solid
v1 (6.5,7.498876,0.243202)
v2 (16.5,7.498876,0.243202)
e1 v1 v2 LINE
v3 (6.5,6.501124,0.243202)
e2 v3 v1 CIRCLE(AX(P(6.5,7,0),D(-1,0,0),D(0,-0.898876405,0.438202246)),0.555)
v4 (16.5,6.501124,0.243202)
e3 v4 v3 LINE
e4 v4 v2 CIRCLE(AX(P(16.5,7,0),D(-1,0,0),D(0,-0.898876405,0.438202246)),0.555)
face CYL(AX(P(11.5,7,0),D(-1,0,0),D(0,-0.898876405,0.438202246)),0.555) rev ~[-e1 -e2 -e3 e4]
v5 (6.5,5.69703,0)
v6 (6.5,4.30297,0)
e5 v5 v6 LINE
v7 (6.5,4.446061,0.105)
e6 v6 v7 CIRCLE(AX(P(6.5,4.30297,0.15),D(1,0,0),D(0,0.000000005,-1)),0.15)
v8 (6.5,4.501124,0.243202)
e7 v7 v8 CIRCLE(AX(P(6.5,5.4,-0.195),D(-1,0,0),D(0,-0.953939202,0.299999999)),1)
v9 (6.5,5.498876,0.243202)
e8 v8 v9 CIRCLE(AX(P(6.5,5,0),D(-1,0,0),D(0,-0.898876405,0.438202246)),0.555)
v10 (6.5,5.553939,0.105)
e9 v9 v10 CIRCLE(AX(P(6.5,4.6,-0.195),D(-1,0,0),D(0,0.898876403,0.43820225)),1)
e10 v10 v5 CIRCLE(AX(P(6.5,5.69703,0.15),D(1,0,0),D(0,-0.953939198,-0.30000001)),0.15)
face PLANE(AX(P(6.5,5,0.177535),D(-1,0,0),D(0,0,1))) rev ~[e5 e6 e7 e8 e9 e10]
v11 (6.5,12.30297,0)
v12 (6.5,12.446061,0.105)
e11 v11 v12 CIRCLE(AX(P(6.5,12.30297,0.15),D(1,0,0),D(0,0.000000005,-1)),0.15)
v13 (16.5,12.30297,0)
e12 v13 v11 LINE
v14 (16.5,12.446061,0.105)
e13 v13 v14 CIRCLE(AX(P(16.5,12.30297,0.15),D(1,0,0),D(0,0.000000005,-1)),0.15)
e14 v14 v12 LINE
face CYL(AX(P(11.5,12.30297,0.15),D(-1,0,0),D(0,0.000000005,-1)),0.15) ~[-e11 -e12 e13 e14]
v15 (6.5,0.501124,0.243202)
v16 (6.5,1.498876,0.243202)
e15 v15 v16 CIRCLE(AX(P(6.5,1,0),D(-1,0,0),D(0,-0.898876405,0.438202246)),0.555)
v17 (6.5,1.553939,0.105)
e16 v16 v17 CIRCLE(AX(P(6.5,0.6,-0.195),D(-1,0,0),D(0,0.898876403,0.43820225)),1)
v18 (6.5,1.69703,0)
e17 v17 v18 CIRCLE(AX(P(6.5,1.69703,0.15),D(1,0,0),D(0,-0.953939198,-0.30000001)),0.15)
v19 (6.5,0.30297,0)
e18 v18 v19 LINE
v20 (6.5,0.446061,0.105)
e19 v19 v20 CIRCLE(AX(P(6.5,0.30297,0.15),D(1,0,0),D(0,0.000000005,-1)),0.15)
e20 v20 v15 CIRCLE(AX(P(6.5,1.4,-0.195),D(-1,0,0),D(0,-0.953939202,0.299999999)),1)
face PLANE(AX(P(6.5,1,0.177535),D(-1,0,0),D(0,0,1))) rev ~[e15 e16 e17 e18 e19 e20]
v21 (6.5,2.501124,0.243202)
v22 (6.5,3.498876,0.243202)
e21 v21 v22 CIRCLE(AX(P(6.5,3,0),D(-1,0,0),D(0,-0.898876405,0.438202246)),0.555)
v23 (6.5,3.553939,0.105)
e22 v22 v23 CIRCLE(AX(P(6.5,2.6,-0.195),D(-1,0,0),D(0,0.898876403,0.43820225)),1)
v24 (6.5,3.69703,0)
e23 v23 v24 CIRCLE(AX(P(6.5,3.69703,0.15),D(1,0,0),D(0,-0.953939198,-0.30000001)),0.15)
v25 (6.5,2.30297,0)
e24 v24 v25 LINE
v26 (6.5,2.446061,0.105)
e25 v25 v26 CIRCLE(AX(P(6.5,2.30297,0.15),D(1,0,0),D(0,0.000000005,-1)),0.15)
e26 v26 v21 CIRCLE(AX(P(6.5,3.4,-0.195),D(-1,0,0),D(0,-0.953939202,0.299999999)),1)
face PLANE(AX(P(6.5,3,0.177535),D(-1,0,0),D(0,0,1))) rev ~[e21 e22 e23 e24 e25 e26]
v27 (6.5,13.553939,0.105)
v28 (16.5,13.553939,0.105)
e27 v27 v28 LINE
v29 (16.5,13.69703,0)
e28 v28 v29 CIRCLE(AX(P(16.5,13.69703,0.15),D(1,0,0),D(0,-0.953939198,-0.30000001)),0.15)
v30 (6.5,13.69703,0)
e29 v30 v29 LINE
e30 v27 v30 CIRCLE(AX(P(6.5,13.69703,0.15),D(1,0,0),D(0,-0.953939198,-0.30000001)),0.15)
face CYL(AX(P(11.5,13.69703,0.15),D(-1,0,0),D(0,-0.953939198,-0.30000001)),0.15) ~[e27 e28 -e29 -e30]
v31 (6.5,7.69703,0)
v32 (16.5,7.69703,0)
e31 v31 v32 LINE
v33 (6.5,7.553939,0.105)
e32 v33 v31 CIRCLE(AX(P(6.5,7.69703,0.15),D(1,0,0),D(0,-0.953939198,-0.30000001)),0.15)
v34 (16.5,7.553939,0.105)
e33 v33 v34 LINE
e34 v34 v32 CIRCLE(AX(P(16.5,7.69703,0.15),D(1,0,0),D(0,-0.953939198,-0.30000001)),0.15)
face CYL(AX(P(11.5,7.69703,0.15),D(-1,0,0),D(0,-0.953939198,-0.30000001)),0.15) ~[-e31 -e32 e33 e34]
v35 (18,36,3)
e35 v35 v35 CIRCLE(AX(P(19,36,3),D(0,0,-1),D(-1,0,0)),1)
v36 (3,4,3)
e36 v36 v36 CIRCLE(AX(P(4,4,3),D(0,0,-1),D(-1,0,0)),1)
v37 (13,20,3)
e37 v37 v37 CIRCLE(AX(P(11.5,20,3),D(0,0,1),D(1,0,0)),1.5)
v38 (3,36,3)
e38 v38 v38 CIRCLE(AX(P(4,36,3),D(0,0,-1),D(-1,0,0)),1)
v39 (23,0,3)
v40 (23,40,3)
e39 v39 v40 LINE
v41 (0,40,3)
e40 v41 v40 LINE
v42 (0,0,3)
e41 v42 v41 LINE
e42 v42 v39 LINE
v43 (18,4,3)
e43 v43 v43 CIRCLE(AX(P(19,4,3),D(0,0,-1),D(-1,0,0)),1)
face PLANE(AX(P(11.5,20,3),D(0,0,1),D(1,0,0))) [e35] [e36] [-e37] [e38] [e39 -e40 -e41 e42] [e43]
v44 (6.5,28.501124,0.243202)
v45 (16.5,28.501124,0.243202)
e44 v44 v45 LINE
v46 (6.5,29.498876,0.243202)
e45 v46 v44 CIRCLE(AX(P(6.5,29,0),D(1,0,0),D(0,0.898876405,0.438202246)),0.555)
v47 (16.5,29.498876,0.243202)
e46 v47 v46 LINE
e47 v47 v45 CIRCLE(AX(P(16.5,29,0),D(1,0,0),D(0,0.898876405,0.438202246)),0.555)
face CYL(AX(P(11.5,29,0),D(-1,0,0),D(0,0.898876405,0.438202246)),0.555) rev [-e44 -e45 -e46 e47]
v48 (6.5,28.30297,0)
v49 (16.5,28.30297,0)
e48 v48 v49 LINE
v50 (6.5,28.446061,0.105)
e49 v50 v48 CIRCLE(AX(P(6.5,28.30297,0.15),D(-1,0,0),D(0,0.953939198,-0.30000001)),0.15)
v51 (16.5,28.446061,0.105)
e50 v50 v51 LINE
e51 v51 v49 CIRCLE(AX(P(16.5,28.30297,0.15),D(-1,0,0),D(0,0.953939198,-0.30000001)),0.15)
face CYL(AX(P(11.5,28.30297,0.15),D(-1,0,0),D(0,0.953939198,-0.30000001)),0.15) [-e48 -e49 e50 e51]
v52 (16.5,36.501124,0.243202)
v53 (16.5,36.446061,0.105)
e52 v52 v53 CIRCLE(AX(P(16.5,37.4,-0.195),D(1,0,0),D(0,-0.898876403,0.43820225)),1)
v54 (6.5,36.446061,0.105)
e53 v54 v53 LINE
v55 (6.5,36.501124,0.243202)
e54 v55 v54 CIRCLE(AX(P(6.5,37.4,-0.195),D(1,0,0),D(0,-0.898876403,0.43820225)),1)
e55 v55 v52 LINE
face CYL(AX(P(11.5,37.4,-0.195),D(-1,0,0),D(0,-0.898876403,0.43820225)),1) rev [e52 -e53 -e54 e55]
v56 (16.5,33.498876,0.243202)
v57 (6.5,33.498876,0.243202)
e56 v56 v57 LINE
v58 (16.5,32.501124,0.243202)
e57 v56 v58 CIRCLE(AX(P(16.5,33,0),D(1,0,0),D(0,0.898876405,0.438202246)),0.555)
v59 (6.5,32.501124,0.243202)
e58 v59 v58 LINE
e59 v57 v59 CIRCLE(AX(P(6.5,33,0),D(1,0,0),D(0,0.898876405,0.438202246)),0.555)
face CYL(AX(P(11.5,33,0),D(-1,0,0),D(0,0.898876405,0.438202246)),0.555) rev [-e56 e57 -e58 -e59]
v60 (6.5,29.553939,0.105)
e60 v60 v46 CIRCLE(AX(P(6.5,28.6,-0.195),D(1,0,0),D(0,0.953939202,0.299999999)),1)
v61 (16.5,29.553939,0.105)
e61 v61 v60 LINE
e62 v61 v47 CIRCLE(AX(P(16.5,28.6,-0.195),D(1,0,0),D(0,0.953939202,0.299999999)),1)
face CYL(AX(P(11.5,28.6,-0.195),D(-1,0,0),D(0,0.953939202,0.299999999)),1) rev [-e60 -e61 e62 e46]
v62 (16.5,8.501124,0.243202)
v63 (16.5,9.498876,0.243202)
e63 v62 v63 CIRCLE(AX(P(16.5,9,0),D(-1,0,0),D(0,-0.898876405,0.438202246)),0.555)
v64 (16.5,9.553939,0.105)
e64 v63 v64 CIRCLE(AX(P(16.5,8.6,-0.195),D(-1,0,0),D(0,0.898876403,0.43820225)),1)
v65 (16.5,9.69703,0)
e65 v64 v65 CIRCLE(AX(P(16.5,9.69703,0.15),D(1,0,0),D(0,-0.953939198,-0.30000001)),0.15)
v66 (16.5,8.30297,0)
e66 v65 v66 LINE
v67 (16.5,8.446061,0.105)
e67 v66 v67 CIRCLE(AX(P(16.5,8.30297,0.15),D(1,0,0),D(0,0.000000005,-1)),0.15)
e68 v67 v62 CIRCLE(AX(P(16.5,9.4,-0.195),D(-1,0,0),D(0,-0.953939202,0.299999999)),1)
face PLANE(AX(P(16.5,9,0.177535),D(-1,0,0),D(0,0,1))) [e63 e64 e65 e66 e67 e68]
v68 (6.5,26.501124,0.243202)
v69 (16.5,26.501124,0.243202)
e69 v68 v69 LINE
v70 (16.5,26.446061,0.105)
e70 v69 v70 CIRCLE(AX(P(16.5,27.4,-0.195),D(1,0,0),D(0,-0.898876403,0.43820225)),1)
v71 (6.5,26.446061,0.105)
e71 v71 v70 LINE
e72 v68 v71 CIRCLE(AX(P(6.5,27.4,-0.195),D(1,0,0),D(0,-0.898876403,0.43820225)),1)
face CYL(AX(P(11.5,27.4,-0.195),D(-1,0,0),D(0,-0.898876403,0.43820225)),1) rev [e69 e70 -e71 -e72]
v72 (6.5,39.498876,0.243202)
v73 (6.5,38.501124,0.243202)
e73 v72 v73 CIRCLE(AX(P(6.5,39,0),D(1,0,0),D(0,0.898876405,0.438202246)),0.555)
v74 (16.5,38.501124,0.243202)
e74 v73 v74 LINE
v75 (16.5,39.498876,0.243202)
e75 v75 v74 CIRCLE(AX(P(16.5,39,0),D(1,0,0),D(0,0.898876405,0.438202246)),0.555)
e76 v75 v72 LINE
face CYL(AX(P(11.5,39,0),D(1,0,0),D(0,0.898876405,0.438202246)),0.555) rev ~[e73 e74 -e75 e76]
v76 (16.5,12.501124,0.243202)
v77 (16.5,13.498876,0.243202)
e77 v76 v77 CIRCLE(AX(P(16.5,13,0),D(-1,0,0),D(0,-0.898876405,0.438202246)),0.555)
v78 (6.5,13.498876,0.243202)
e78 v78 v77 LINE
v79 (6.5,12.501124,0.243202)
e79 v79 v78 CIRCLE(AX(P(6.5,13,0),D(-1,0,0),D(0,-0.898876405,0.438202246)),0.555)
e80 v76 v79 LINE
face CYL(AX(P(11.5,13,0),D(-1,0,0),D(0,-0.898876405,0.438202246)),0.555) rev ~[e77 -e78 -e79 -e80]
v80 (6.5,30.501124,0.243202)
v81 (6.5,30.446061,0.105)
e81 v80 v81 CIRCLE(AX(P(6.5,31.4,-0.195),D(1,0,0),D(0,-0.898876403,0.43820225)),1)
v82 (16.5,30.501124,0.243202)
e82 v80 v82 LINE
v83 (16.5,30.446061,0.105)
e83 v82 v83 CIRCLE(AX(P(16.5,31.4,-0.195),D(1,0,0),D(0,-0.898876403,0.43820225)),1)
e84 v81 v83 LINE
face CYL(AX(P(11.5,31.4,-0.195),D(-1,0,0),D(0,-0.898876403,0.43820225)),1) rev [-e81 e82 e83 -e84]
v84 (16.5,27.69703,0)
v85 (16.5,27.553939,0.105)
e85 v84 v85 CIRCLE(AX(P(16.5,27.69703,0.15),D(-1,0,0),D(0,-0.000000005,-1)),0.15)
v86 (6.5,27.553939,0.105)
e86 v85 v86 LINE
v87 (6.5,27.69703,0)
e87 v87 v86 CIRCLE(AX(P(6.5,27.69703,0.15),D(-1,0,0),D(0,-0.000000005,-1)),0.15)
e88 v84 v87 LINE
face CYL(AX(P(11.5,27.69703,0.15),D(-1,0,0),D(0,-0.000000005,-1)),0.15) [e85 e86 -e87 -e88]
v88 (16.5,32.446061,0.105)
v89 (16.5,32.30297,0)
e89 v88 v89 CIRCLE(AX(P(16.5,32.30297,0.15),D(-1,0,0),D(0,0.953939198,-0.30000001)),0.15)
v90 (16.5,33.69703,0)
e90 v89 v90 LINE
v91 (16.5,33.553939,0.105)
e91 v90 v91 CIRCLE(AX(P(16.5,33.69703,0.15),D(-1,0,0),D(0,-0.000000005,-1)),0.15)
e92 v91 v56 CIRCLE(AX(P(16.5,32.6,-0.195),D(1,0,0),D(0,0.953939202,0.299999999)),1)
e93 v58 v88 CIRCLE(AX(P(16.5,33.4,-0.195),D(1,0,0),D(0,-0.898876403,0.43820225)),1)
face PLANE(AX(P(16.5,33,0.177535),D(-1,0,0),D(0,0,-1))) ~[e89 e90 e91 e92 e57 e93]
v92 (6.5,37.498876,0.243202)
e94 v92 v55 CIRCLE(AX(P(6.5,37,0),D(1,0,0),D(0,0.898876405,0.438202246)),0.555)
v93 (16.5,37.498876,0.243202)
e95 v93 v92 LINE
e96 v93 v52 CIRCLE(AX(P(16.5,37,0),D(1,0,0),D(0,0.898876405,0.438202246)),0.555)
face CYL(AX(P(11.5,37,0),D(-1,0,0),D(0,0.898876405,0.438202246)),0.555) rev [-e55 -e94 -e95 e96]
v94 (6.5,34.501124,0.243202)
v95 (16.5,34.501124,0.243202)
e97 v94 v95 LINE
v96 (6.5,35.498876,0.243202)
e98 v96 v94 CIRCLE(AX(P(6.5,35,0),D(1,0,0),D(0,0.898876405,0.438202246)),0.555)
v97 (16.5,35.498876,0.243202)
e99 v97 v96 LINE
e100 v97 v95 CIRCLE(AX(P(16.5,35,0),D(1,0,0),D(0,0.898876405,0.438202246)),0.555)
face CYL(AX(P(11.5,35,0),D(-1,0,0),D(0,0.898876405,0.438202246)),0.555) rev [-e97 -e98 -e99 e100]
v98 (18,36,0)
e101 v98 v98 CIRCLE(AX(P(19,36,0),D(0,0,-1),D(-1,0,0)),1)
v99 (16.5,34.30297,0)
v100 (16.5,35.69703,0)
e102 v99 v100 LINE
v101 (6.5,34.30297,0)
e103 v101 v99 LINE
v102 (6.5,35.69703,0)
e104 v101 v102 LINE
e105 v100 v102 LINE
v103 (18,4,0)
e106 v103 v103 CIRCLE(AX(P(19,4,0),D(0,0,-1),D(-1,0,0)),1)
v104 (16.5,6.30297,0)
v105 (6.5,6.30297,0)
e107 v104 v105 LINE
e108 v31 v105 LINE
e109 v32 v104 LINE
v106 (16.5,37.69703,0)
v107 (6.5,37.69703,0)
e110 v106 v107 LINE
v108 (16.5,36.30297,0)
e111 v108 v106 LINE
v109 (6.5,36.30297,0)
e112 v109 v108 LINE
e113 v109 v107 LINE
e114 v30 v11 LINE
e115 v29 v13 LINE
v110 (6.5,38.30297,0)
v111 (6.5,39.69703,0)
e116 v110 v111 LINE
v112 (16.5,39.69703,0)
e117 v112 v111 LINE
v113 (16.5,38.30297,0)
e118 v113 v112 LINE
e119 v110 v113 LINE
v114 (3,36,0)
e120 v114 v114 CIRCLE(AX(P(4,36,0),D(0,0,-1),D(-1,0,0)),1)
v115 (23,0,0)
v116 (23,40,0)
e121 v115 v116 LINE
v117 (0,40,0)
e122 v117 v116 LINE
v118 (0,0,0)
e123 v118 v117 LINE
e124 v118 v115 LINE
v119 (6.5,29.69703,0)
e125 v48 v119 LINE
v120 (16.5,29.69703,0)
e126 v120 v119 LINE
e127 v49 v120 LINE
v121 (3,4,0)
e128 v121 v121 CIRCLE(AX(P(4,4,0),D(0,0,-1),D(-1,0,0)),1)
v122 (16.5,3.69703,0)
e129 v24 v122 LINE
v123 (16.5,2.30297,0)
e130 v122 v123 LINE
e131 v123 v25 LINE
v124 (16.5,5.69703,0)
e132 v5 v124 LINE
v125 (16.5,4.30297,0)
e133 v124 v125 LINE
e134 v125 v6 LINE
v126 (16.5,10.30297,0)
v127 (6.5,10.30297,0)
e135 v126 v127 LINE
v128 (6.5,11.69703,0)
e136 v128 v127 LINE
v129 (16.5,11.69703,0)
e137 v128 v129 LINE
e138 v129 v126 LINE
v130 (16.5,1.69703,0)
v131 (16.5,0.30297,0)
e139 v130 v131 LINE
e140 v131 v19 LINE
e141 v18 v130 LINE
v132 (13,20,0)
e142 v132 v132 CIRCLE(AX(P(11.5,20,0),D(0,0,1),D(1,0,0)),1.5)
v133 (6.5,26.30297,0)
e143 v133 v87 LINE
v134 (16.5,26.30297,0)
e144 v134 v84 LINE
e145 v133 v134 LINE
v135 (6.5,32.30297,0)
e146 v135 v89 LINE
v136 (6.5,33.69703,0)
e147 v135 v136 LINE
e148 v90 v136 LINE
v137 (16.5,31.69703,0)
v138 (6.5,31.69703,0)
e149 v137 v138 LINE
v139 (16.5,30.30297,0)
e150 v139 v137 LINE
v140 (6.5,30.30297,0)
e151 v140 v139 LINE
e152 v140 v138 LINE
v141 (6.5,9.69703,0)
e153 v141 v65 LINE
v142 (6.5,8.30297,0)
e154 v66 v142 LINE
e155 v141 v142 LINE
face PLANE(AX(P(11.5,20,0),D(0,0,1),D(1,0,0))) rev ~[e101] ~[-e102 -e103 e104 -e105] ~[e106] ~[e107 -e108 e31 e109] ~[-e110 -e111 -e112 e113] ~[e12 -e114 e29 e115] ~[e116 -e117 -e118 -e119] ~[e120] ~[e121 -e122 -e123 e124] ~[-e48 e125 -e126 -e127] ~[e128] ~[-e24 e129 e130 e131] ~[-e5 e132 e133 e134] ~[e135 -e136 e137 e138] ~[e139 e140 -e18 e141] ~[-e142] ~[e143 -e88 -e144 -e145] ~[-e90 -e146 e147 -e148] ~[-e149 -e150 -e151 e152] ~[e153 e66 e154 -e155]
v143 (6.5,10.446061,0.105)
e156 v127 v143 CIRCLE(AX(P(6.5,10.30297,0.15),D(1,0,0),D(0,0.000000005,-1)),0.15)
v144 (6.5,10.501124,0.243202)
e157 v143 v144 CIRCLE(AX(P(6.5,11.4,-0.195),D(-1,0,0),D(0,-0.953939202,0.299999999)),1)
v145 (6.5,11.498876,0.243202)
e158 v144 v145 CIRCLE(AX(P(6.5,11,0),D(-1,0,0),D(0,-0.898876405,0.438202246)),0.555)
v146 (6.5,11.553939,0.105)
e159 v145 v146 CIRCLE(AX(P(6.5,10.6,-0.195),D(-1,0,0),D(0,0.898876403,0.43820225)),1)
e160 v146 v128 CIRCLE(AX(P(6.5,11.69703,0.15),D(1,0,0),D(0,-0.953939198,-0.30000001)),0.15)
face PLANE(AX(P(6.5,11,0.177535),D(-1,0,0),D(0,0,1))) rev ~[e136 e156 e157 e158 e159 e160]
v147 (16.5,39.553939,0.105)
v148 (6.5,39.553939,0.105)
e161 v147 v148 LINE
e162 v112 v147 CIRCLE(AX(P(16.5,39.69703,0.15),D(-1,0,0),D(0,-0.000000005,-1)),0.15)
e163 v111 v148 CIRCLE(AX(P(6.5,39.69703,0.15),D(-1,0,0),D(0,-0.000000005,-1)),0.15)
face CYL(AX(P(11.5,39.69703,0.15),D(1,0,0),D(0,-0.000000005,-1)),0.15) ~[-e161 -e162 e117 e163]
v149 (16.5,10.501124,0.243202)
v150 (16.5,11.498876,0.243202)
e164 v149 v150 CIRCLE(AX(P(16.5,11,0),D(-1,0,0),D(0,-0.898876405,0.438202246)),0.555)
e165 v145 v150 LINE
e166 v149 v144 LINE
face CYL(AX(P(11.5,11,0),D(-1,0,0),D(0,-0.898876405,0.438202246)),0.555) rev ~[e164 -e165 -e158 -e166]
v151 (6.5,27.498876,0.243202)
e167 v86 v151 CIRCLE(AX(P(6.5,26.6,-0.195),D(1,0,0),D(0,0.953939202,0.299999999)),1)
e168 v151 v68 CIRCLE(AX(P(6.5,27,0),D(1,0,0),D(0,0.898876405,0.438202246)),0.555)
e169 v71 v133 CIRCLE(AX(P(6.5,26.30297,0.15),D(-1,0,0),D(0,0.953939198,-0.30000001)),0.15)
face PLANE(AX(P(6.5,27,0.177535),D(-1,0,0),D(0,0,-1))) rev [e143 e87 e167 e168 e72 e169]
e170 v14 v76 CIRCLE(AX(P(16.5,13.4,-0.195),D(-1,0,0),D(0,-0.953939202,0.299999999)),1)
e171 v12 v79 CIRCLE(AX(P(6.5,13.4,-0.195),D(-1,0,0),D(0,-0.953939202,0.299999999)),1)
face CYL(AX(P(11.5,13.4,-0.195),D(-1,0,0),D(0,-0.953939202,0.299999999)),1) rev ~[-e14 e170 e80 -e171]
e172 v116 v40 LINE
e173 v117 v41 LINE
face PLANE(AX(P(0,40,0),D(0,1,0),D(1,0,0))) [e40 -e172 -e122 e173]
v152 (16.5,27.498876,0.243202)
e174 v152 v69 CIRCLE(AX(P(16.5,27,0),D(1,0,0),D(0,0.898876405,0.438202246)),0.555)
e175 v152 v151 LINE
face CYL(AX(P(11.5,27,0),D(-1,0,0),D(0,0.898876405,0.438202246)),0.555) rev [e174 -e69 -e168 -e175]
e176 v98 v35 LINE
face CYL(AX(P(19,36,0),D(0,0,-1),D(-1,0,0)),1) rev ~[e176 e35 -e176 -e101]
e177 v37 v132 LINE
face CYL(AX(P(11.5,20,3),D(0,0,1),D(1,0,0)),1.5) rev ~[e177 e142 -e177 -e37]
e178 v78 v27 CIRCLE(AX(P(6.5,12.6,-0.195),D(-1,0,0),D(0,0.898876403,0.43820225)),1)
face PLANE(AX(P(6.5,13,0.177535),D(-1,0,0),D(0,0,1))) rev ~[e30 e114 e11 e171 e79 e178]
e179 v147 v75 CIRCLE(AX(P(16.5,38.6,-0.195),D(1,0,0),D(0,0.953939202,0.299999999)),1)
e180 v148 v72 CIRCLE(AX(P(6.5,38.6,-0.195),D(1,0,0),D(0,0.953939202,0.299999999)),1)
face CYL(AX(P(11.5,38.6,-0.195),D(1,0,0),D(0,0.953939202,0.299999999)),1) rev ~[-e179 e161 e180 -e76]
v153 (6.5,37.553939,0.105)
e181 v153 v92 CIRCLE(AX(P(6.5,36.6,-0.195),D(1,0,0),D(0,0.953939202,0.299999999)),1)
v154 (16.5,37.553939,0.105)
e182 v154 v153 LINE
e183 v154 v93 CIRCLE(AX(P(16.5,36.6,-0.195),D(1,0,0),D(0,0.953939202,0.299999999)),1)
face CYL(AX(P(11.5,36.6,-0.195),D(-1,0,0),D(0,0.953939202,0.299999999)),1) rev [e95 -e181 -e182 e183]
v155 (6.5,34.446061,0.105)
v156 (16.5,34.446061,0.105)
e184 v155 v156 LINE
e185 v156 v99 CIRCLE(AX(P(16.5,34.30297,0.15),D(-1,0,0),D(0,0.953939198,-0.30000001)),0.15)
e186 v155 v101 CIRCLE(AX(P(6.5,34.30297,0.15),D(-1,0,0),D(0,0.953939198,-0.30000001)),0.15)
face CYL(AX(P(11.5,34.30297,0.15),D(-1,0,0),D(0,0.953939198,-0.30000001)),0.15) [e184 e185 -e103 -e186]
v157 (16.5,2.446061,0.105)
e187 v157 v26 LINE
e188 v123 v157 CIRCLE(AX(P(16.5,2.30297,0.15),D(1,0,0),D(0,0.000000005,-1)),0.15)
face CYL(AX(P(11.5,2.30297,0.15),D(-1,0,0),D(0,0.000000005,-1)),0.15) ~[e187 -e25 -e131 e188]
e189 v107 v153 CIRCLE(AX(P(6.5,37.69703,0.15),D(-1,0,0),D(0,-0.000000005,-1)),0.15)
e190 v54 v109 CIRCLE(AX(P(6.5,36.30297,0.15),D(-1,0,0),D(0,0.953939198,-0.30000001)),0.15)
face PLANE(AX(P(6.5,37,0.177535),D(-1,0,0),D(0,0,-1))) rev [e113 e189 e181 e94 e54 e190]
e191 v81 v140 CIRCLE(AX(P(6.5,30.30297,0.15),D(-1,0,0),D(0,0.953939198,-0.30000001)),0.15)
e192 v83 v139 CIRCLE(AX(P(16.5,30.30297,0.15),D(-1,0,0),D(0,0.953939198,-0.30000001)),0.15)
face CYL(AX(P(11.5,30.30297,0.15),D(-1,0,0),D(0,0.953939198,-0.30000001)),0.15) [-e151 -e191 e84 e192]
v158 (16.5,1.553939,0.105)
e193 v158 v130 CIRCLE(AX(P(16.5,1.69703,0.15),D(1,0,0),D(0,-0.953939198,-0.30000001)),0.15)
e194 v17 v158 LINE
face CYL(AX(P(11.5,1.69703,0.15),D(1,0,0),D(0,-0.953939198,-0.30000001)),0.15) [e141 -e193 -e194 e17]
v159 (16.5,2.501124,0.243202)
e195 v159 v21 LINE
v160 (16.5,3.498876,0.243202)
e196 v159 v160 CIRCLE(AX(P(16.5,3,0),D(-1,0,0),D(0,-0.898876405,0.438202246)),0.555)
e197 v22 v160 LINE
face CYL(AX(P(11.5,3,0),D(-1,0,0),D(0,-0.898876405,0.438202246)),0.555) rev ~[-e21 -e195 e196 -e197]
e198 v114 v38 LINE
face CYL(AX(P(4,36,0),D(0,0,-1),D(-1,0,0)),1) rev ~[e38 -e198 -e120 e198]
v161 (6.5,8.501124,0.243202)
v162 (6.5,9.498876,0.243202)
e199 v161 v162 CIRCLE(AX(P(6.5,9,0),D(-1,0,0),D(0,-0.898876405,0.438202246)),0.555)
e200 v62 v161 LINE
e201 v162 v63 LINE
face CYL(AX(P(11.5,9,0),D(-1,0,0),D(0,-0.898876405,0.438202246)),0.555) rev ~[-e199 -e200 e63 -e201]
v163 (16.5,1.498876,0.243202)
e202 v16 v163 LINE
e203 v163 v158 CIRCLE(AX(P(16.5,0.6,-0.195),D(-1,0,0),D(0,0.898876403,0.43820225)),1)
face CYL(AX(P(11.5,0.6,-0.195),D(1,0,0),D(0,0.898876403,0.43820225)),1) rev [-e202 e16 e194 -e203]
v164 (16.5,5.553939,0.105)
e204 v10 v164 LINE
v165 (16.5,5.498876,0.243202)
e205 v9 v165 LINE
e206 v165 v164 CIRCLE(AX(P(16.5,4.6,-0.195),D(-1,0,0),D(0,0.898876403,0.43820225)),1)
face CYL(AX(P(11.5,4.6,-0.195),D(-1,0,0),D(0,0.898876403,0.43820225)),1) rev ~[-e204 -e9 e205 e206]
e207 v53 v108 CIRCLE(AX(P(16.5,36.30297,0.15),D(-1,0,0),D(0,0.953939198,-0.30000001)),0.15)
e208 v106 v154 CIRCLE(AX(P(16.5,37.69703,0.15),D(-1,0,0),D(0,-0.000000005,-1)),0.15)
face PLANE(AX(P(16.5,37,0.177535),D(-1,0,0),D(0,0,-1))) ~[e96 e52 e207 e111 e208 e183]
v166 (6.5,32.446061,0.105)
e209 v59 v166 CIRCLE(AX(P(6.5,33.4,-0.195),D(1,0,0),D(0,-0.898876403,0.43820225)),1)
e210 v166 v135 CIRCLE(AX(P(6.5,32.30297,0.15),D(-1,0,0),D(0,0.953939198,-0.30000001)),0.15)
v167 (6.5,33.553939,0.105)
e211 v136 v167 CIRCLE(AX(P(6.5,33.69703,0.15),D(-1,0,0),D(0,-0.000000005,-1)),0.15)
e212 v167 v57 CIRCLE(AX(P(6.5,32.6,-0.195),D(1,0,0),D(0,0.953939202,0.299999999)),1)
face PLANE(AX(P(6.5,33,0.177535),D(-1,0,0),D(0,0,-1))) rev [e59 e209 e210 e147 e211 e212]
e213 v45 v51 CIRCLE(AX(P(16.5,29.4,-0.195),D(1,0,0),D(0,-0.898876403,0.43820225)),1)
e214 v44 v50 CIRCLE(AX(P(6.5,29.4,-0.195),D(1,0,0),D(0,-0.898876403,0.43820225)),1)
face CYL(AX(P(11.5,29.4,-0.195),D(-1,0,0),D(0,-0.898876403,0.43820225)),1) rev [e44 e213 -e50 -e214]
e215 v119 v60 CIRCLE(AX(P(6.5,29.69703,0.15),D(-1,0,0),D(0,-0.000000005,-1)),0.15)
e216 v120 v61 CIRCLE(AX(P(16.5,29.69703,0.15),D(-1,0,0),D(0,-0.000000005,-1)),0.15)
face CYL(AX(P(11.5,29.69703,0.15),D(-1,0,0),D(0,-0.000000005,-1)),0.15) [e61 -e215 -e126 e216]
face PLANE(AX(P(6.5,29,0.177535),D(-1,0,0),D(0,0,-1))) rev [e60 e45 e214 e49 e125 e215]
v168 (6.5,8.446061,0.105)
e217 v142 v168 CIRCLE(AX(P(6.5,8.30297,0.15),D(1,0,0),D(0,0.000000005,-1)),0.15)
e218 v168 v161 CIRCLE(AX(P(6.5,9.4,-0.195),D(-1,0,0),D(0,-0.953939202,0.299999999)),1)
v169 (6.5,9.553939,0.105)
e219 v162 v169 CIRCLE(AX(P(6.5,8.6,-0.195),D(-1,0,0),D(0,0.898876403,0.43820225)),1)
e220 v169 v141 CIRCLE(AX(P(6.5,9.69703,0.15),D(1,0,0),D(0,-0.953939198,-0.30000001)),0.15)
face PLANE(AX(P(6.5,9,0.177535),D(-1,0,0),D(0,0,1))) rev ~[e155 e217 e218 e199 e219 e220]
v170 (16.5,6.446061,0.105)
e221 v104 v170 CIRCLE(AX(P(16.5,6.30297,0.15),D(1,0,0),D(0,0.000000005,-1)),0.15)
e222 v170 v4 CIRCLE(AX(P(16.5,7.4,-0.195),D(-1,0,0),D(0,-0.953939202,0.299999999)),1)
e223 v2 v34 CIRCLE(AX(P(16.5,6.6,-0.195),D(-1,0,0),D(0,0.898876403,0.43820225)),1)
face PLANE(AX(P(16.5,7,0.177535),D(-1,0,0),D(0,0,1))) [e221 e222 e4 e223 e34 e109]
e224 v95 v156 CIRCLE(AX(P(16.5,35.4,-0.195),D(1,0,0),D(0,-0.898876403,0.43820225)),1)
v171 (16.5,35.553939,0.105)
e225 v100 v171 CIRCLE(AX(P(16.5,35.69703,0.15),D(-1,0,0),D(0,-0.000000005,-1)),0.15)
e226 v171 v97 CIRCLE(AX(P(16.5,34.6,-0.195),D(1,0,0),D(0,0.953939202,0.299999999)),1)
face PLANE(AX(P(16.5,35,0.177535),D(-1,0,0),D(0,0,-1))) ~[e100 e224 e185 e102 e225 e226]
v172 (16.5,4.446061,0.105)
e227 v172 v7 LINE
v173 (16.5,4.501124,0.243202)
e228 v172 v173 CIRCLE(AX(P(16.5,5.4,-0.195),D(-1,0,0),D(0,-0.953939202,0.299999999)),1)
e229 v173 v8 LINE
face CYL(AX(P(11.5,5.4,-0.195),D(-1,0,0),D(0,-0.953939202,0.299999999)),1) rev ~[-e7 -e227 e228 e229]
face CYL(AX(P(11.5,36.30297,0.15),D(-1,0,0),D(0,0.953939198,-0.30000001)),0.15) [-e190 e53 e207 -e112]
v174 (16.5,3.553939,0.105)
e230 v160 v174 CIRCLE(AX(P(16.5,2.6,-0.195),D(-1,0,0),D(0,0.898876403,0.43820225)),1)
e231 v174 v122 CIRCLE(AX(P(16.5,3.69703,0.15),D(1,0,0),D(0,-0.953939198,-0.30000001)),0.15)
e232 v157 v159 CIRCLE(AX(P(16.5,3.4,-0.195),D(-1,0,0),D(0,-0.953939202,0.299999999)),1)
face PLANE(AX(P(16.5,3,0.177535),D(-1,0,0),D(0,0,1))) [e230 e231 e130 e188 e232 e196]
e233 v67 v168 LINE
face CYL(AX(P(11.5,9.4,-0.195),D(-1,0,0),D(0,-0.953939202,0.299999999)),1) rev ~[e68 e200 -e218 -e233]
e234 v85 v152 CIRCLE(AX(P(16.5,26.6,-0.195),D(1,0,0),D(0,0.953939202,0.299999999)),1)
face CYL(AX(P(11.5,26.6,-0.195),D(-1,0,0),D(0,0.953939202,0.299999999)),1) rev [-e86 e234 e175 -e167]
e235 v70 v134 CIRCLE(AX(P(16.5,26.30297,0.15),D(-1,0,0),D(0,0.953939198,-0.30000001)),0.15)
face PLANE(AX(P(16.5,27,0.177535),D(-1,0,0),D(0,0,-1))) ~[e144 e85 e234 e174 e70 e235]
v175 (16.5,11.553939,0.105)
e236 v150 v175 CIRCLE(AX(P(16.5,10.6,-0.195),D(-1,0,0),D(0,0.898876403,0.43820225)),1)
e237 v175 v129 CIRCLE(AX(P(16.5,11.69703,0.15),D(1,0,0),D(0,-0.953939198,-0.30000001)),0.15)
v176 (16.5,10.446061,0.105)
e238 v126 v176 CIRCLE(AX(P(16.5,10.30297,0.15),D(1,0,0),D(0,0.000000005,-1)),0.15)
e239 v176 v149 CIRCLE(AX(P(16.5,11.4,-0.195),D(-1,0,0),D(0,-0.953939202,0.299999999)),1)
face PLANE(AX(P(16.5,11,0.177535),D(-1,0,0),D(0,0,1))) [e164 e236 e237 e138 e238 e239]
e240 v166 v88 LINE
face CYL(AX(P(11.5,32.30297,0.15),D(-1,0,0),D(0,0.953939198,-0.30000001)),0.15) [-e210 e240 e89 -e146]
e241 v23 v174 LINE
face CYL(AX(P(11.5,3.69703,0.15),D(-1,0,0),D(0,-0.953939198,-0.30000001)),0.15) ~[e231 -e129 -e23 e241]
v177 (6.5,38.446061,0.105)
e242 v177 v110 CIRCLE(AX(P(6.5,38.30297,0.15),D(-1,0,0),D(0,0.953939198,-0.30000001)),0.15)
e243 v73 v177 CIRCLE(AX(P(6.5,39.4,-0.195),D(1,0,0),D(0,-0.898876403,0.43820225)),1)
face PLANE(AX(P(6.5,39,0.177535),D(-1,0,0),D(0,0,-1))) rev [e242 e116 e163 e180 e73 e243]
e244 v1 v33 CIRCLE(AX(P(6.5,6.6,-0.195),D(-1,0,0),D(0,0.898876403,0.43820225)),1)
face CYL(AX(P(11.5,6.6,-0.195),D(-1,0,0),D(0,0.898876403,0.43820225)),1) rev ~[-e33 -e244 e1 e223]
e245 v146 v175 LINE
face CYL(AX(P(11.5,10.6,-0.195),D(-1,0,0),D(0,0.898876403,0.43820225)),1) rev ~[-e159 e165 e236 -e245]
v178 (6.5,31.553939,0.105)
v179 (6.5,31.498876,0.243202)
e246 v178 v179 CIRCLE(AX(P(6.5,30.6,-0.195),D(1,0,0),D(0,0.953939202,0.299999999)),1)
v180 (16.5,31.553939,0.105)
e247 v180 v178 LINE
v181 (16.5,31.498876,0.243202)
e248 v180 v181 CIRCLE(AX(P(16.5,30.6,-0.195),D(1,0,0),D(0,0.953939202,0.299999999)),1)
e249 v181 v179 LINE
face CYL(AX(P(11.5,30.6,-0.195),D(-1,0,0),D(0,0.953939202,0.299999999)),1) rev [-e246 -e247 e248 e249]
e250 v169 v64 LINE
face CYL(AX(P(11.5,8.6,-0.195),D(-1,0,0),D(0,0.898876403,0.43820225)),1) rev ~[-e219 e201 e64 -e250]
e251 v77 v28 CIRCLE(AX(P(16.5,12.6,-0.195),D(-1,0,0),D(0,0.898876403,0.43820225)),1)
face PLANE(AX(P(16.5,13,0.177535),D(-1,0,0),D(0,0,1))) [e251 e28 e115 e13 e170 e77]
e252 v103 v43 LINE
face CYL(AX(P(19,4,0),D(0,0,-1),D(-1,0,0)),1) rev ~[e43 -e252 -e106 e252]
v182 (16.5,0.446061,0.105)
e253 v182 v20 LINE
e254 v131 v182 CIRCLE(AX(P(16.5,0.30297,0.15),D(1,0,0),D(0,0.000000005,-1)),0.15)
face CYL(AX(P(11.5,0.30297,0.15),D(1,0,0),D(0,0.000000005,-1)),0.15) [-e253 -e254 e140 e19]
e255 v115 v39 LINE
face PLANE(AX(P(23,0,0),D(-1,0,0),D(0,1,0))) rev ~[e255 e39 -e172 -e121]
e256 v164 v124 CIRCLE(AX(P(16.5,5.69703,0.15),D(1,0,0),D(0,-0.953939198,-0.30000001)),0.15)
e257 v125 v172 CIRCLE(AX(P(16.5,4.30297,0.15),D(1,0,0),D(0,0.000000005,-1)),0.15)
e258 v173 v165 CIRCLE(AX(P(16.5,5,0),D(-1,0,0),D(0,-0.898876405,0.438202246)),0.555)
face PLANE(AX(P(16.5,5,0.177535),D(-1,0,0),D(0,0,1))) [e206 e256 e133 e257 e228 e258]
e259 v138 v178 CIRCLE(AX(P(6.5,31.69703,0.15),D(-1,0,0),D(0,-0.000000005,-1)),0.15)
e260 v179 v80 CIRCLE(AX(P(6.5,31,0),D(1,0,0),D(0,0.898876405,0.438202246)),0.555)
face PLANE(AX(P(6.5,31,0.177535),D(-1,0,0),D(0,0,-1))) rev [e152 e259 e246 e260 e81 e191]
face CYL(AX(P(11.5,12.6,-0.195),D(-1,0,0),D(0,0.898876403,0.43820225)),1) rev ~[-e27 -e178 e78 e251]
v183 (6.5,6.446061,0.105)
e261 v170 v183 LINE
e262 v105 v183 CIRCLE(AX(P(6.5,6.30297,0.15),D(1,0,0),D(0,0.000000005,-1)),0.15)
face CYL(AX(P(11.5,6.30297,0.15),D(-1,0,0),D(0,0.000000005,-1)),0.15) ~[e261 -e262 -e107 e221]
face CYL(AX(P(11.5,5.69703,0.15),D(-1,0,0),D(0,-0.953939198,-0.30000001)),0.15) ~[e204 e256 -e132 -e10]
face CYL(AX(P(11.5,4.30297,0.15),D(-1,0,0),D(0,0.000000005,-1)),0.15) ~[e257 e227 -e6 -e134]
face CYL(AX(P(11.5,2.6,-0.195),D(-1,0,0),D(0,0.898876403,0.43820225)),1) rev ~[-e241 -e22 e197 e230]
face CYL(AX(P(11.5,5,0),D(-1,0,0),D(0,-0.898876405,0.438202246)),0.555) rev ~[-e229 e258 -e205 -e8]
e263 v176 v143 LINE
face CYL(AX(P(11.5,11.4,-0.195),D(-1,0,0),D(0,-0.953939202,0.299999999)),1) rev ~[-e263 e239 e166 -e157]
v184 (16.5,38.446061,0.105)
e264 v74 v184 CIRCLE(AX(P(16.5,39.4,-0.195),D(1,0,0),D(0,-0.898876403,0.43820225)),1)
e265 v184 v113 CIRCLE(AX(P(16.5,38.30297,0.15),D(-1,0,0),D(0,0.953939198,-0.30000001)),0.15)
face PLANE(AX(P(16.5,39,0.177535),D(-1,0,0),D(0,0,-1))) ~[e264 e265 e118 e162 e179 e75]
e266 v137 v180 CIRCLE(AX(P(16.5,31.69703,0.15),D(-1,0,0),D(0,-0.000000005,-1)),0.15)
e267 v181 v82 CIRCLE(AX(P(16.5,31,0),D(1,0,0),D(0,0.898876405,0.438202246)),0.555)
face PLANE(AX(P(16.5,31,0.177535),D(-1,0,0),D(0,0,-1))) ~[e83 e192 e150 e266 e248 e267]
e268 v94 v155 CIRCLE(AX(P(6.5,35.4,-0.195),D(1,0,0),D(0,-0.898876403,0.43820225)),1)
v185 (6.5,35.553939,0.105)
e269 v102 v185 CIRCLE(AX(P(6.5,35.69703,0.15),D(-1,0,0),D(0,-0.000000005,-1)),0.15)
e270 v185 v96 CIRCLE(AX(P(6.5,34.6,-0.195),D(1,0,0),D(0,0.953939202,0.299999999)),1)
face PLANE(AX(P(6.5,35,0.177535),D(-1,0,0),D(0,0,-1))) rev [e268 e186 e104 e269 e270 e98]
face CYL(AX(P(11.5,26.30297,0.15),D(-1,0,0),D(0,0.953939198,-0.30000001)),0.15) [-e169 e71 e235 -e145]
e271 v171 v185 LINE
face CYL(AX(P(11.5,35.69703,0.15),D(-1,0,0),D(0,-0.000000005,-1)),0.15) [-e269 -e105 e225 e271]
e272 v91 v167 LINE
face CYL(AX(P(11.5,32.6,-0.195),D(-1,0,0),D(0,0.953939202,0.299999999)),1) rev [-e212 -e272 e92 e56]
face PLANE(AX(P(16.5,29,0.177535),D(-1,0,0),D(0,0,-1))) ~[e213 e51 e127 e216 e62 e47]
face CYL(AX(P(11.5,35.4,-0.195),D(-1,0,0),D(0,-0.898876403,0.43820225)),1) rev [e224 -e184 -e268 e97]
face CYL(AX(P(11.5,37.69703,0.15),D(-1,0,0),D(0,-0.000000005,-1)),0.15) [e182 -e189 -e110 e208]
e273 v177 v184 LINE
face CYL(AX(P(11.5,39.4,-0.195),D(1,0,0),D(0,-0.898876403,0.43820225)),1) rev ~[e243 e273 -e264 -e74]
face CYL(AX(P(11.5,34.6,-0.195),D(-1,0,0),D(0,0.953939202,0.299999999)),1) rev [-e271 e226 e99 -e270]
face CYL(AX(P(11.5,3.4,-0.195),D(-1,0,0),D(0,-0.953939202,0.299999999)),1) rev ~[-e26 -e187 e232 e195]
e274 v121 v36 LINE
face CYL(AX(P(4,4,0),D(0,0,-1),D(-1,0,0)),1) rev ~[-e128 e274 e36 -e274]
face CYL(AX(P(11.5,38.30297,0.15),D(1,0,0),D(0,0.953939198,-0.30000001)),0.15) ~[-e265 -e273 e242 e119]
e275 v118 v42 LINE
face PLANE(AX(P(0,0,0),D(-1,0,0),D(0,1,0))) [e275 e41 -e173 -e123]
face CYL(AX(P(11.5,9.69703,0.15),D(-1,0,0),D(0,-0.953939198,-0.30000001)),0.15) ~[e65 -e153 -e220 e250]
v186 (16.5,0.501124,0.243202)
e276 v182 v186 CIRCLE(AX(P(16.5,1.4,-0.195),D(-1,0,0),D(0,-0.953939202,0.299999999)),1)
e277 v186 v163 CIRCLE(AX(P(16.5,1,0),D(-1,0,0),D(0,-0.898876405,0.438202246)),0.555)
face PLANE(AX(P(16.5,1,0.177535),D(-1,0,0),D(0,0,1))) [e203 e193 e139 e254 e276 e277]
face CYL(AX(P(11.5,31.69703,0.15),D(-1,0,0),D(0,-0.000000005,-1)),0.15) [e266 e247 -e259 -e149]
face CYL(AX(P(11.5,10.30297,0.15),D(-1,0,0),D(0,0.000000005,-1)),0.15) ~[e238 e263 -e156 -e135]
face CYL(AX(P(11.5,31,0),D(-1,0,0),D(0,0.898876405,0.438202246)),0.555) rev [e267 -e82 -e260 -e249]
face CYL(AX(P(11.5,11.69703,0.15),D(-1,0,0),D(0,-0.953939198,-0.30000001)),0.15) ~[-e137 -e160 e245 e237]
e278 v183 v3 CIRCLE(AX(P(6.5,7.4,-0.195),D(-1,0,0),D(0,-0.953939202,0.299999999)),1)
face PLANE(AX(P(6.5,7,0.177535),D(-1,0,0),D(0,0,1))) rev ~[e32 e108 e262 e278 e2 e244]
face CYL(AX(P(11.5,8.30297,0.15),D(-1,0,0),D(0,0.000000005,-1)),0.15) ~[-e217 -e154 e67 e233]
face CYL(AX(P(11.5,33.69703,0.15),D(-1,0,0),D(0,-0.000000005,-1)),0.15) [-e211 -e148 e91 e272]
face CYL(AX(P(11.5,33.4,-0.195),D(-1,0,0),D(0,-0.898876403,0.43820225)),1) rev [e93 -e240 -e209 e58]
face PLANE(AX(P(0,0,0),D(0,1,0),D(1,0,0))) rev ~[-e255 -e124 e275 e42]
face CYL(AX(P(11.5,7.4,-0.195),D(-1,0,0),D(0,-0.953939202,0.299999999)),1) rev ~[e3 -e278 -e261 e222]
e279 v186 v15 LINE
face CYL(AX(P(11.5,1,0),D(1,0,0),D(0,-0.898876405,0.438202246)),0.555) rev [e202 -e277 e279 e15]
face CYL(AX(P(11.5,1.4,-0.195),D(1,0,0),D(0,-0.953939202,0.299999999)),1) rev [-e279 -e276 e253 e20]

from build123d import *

# Parameters (mm, degrees)
SKETCH1_W           = 23
SKETCH1_H           = 40
BOSS_EXTRUDE1_DEPTH = 3
SKETCH2_R           = 1.5
CUT_EXTRUDE1_DEPTH  = 4
CUT_EXTRUDE4_DEPTH  = 5
SKETCH4_R           = 1
CUT_EXTRUDE5_DEPTH  = 4


with BuildPart() as part:
    # Sketch1 → Boss-Extrude1 (new body)
    with BuildSketch(Plane.XY):
        with Locations((11.5, 20)):
            Rectangle(SKETCH1_W, SKETCH1_H)
    extrude(amount=BOSS_EXTRUDE1_DEPTH)

    # Sketch2 → Cut-Extrude1 (cut, through all)
    with BuildSketch(Plane.XY.offset(3)):
        with Locations((11.5, 20)):
            Circle(SKETCH2_R)
    extrude(amount=-CUT_EXTRUDE1_DEPTH, mode=Mode.SUBTRACT)

    # Sketch3 → Cut-Extrude4 (cut, symmetric)
    with BuildSketch(Plane(origin=(11.5, 0, 0), x_dir=(0, 0, -1), z_dir=(1, 0, 0))):
        with BuildLine():
            Line((0, 13.697030082), (0, 12.302969918))
            ThreePointArc((0, 12.302969918), (-0.029066134, 12.391711115), (-0.105, 12.446060799))
            ThreePointArc((-0.105, 12.446060799), (-0.175126488, 12.471018632), (-0.243202247, 12.501123596))
            ThreePointArc((-0.243202247, 12.501123596), (-0.555, 13), (-0.243202247, 13.498876404))
            ThreePointArc((-0.243202247, 13.498876404), (-0.175126488, 13.528981368), (-0.105, 13.553939201))
            ThreePointArc((-0.105, 13.553939201), (-0.029066134, 13.608288885), (0, 13.697030082))
        make_face()
        with BuildLine():
            Line((0, 11.697030082), (0, 10.302969918))
            ThreePointArc((0, 10.302969918), (-0.029066134, 10.391711115), (-0.105, 10.446060799))
            ThreePointArc((-0.105, 10.446060799), (-0.175126488, 10.471018632), (-0.243202247, 10.501123596))
            ThreePointArc((-0.243202247, 10.501123596), (-0.555, 11), (-0.243202247, 11.498876404))
            ThreePointArc((-0.243202247, 11.498876404), (-0.175126488, 11.528981368), (-0.105, 11.553939201))
            ThreePointArc((-0.105, 11.553939201), (-0.029066134, 11.608288885), (0, 11.697030082))
        make_face()
        with BuildLine():
            Line((0, 9.697030082), (0, 8.302969918))
            ThreePointArc((0, 8.302969918), (-0.029066134, 8.391711115), (-0.105, 8.446060799))
            ThreePointArc((-0.105, 8.446060799), (-0.175126488, 8.471018632), (-0.243202247, 8.501123596))
            ThreePointArc((-0.243202247, 8.501123596), (-0.555, 9), (-0.243202247, 9.498876404))
            ThreePointArc((-0.243202247, 9.498876404), (-0.175126488, 9.528981368), (-0.105, 9.553939201))
            ThreePointArc((-0.105, 9.553939201), (-0.029066134, 9.608288885), (0, 9.697030082))
        make_face()
        with BuildLine():
            Line((0, 7.697030082), (0, 6.302969918))
            ThreePointArc((0, 6.302969918), (-0.029066134, 6.391711115), (-0.105, 6.446060799))
            ThreePointArc((-0.105, 6.446060799), (-0.175126488, 6.471018632), (-0.243202247, 6.501123596))
            ThreePointArc((-0.243202247, 6.501123596), (-0.555, 7), (-0.243202247, 7.498876404))
            ThreePointArc((-0.243202247, 7.498876404), (-0.175126488, 7.528981368), (-0.105, 7.553939201))
            ThreePointArc((-0.105, 7.553939201), (-0.029066134, 7.608288885), (0, 7.697030082))
        make_face()
        with BuildLine():
            Line((0, 5.697030082), (0, 4.302969918))
            ThreePointArc((0, 4.302969918), (-0.029066134, 4.391711115), (-0.105, 4.446060799))
            ThreePointArc((-0.105, 4.446060799), (-0.175126488, 4.471018632), (-0.243202247, 4.501123596))
            ThreePointArc((-0.243202247, 4.501123596), (-0.555, 5), (-0.243202247, 5.498876404))
            ThreePointArc((-0.243202247, 5.498876404), (-0.175126488, 5.528981368), (-0.105, 5.553939201))
            ThreePointArc((-0.105, 5.553939201), (-0.029066134, 5.608288885), (0, 5.697030082))
        make_face()
        with BuildLine():
            Line((0, 3.697030082), (0, 2.302969918))
            ThreePointArc((0, 2.302969918), (-0.029066134, 2.391711115), (-0.105, 2.446060799))
            ThreePointArc((-0.105, 2.446060799), (-0.175126488, 2.471018632), (-0.243202247, 2.501123596))
            ThreePointArc((-0.243202247, 2.501123596), (-0.555, 3), (-0.243202247, 3.498876404))
            ThreePointArc((-0.243202247, 3.498876404), (-0.175126488, 3.528981368), (-0.105, 3.553939201))
            ThreePointArc((-0.105, 3.553939201), (-0.029066134, 3.608288885), (0, 3.697030082))
        make_face()
        with BuildLine():
            Line((0, 1.697030082), (0, 0.302969918))
            ThreePointArc((0, 0.302969918), (-0.029066134, 0.391711115), (-0.105, 0.446060799))
            ThreePointArc((-0.105, 0.446060799), (-0.175126488, 0.471018632), (-0.243202247, 0.501123596))
            ThreePointArc((-0.243202247, 0.501123596), (-0.555, 1), (-0.243202247, 1.498876404))
            ThreePointArc((-0.243202247, 1.498876404), (-0.175126488, 1.528981368), (-0.105, 1.553939201))
            ThreePointArc((-0.105, 1.553939201), (-0.029066134, 1.608288885), (0, 1.697030082))
        make_face()
    cut_extrude4 = extrude(amount=CUT_EXTRUDE4_DEPTH, both=True, mode=Mode.SUBTRACT)

    # Mirror1: Cut-Extrude4 across plane
    add(cut_extrude4.mirror(Plane(origin=(0, 20, 0), x_dir=(0, 0, 1), z_dir=(0, -1, 0))), mode=Mode.SUBTRACT)

    # Sketch4 → Cut-Extrude5 (cut, through all)
    with BuildSketch(Plane(origin=(0, 0, 0), x_dir=(-1, 0, 0), z_dir=(0, 0, -1))):
        with Locations((-19, 36)):
            Circle(SKETCH4_R)
        with Locations((-19, 4)):
            Circle(SKETCH4_R)
        with Locations((-4, 4)):
            Circle(SKETCH4_R)
        with Locations((-4, 36)):
            Circle(SKETCH4_R)
    extrude(amount=-CUT_EXTRUDE5_DEPTH, mode=Mode.SUBTRACT)


solid = part.part
